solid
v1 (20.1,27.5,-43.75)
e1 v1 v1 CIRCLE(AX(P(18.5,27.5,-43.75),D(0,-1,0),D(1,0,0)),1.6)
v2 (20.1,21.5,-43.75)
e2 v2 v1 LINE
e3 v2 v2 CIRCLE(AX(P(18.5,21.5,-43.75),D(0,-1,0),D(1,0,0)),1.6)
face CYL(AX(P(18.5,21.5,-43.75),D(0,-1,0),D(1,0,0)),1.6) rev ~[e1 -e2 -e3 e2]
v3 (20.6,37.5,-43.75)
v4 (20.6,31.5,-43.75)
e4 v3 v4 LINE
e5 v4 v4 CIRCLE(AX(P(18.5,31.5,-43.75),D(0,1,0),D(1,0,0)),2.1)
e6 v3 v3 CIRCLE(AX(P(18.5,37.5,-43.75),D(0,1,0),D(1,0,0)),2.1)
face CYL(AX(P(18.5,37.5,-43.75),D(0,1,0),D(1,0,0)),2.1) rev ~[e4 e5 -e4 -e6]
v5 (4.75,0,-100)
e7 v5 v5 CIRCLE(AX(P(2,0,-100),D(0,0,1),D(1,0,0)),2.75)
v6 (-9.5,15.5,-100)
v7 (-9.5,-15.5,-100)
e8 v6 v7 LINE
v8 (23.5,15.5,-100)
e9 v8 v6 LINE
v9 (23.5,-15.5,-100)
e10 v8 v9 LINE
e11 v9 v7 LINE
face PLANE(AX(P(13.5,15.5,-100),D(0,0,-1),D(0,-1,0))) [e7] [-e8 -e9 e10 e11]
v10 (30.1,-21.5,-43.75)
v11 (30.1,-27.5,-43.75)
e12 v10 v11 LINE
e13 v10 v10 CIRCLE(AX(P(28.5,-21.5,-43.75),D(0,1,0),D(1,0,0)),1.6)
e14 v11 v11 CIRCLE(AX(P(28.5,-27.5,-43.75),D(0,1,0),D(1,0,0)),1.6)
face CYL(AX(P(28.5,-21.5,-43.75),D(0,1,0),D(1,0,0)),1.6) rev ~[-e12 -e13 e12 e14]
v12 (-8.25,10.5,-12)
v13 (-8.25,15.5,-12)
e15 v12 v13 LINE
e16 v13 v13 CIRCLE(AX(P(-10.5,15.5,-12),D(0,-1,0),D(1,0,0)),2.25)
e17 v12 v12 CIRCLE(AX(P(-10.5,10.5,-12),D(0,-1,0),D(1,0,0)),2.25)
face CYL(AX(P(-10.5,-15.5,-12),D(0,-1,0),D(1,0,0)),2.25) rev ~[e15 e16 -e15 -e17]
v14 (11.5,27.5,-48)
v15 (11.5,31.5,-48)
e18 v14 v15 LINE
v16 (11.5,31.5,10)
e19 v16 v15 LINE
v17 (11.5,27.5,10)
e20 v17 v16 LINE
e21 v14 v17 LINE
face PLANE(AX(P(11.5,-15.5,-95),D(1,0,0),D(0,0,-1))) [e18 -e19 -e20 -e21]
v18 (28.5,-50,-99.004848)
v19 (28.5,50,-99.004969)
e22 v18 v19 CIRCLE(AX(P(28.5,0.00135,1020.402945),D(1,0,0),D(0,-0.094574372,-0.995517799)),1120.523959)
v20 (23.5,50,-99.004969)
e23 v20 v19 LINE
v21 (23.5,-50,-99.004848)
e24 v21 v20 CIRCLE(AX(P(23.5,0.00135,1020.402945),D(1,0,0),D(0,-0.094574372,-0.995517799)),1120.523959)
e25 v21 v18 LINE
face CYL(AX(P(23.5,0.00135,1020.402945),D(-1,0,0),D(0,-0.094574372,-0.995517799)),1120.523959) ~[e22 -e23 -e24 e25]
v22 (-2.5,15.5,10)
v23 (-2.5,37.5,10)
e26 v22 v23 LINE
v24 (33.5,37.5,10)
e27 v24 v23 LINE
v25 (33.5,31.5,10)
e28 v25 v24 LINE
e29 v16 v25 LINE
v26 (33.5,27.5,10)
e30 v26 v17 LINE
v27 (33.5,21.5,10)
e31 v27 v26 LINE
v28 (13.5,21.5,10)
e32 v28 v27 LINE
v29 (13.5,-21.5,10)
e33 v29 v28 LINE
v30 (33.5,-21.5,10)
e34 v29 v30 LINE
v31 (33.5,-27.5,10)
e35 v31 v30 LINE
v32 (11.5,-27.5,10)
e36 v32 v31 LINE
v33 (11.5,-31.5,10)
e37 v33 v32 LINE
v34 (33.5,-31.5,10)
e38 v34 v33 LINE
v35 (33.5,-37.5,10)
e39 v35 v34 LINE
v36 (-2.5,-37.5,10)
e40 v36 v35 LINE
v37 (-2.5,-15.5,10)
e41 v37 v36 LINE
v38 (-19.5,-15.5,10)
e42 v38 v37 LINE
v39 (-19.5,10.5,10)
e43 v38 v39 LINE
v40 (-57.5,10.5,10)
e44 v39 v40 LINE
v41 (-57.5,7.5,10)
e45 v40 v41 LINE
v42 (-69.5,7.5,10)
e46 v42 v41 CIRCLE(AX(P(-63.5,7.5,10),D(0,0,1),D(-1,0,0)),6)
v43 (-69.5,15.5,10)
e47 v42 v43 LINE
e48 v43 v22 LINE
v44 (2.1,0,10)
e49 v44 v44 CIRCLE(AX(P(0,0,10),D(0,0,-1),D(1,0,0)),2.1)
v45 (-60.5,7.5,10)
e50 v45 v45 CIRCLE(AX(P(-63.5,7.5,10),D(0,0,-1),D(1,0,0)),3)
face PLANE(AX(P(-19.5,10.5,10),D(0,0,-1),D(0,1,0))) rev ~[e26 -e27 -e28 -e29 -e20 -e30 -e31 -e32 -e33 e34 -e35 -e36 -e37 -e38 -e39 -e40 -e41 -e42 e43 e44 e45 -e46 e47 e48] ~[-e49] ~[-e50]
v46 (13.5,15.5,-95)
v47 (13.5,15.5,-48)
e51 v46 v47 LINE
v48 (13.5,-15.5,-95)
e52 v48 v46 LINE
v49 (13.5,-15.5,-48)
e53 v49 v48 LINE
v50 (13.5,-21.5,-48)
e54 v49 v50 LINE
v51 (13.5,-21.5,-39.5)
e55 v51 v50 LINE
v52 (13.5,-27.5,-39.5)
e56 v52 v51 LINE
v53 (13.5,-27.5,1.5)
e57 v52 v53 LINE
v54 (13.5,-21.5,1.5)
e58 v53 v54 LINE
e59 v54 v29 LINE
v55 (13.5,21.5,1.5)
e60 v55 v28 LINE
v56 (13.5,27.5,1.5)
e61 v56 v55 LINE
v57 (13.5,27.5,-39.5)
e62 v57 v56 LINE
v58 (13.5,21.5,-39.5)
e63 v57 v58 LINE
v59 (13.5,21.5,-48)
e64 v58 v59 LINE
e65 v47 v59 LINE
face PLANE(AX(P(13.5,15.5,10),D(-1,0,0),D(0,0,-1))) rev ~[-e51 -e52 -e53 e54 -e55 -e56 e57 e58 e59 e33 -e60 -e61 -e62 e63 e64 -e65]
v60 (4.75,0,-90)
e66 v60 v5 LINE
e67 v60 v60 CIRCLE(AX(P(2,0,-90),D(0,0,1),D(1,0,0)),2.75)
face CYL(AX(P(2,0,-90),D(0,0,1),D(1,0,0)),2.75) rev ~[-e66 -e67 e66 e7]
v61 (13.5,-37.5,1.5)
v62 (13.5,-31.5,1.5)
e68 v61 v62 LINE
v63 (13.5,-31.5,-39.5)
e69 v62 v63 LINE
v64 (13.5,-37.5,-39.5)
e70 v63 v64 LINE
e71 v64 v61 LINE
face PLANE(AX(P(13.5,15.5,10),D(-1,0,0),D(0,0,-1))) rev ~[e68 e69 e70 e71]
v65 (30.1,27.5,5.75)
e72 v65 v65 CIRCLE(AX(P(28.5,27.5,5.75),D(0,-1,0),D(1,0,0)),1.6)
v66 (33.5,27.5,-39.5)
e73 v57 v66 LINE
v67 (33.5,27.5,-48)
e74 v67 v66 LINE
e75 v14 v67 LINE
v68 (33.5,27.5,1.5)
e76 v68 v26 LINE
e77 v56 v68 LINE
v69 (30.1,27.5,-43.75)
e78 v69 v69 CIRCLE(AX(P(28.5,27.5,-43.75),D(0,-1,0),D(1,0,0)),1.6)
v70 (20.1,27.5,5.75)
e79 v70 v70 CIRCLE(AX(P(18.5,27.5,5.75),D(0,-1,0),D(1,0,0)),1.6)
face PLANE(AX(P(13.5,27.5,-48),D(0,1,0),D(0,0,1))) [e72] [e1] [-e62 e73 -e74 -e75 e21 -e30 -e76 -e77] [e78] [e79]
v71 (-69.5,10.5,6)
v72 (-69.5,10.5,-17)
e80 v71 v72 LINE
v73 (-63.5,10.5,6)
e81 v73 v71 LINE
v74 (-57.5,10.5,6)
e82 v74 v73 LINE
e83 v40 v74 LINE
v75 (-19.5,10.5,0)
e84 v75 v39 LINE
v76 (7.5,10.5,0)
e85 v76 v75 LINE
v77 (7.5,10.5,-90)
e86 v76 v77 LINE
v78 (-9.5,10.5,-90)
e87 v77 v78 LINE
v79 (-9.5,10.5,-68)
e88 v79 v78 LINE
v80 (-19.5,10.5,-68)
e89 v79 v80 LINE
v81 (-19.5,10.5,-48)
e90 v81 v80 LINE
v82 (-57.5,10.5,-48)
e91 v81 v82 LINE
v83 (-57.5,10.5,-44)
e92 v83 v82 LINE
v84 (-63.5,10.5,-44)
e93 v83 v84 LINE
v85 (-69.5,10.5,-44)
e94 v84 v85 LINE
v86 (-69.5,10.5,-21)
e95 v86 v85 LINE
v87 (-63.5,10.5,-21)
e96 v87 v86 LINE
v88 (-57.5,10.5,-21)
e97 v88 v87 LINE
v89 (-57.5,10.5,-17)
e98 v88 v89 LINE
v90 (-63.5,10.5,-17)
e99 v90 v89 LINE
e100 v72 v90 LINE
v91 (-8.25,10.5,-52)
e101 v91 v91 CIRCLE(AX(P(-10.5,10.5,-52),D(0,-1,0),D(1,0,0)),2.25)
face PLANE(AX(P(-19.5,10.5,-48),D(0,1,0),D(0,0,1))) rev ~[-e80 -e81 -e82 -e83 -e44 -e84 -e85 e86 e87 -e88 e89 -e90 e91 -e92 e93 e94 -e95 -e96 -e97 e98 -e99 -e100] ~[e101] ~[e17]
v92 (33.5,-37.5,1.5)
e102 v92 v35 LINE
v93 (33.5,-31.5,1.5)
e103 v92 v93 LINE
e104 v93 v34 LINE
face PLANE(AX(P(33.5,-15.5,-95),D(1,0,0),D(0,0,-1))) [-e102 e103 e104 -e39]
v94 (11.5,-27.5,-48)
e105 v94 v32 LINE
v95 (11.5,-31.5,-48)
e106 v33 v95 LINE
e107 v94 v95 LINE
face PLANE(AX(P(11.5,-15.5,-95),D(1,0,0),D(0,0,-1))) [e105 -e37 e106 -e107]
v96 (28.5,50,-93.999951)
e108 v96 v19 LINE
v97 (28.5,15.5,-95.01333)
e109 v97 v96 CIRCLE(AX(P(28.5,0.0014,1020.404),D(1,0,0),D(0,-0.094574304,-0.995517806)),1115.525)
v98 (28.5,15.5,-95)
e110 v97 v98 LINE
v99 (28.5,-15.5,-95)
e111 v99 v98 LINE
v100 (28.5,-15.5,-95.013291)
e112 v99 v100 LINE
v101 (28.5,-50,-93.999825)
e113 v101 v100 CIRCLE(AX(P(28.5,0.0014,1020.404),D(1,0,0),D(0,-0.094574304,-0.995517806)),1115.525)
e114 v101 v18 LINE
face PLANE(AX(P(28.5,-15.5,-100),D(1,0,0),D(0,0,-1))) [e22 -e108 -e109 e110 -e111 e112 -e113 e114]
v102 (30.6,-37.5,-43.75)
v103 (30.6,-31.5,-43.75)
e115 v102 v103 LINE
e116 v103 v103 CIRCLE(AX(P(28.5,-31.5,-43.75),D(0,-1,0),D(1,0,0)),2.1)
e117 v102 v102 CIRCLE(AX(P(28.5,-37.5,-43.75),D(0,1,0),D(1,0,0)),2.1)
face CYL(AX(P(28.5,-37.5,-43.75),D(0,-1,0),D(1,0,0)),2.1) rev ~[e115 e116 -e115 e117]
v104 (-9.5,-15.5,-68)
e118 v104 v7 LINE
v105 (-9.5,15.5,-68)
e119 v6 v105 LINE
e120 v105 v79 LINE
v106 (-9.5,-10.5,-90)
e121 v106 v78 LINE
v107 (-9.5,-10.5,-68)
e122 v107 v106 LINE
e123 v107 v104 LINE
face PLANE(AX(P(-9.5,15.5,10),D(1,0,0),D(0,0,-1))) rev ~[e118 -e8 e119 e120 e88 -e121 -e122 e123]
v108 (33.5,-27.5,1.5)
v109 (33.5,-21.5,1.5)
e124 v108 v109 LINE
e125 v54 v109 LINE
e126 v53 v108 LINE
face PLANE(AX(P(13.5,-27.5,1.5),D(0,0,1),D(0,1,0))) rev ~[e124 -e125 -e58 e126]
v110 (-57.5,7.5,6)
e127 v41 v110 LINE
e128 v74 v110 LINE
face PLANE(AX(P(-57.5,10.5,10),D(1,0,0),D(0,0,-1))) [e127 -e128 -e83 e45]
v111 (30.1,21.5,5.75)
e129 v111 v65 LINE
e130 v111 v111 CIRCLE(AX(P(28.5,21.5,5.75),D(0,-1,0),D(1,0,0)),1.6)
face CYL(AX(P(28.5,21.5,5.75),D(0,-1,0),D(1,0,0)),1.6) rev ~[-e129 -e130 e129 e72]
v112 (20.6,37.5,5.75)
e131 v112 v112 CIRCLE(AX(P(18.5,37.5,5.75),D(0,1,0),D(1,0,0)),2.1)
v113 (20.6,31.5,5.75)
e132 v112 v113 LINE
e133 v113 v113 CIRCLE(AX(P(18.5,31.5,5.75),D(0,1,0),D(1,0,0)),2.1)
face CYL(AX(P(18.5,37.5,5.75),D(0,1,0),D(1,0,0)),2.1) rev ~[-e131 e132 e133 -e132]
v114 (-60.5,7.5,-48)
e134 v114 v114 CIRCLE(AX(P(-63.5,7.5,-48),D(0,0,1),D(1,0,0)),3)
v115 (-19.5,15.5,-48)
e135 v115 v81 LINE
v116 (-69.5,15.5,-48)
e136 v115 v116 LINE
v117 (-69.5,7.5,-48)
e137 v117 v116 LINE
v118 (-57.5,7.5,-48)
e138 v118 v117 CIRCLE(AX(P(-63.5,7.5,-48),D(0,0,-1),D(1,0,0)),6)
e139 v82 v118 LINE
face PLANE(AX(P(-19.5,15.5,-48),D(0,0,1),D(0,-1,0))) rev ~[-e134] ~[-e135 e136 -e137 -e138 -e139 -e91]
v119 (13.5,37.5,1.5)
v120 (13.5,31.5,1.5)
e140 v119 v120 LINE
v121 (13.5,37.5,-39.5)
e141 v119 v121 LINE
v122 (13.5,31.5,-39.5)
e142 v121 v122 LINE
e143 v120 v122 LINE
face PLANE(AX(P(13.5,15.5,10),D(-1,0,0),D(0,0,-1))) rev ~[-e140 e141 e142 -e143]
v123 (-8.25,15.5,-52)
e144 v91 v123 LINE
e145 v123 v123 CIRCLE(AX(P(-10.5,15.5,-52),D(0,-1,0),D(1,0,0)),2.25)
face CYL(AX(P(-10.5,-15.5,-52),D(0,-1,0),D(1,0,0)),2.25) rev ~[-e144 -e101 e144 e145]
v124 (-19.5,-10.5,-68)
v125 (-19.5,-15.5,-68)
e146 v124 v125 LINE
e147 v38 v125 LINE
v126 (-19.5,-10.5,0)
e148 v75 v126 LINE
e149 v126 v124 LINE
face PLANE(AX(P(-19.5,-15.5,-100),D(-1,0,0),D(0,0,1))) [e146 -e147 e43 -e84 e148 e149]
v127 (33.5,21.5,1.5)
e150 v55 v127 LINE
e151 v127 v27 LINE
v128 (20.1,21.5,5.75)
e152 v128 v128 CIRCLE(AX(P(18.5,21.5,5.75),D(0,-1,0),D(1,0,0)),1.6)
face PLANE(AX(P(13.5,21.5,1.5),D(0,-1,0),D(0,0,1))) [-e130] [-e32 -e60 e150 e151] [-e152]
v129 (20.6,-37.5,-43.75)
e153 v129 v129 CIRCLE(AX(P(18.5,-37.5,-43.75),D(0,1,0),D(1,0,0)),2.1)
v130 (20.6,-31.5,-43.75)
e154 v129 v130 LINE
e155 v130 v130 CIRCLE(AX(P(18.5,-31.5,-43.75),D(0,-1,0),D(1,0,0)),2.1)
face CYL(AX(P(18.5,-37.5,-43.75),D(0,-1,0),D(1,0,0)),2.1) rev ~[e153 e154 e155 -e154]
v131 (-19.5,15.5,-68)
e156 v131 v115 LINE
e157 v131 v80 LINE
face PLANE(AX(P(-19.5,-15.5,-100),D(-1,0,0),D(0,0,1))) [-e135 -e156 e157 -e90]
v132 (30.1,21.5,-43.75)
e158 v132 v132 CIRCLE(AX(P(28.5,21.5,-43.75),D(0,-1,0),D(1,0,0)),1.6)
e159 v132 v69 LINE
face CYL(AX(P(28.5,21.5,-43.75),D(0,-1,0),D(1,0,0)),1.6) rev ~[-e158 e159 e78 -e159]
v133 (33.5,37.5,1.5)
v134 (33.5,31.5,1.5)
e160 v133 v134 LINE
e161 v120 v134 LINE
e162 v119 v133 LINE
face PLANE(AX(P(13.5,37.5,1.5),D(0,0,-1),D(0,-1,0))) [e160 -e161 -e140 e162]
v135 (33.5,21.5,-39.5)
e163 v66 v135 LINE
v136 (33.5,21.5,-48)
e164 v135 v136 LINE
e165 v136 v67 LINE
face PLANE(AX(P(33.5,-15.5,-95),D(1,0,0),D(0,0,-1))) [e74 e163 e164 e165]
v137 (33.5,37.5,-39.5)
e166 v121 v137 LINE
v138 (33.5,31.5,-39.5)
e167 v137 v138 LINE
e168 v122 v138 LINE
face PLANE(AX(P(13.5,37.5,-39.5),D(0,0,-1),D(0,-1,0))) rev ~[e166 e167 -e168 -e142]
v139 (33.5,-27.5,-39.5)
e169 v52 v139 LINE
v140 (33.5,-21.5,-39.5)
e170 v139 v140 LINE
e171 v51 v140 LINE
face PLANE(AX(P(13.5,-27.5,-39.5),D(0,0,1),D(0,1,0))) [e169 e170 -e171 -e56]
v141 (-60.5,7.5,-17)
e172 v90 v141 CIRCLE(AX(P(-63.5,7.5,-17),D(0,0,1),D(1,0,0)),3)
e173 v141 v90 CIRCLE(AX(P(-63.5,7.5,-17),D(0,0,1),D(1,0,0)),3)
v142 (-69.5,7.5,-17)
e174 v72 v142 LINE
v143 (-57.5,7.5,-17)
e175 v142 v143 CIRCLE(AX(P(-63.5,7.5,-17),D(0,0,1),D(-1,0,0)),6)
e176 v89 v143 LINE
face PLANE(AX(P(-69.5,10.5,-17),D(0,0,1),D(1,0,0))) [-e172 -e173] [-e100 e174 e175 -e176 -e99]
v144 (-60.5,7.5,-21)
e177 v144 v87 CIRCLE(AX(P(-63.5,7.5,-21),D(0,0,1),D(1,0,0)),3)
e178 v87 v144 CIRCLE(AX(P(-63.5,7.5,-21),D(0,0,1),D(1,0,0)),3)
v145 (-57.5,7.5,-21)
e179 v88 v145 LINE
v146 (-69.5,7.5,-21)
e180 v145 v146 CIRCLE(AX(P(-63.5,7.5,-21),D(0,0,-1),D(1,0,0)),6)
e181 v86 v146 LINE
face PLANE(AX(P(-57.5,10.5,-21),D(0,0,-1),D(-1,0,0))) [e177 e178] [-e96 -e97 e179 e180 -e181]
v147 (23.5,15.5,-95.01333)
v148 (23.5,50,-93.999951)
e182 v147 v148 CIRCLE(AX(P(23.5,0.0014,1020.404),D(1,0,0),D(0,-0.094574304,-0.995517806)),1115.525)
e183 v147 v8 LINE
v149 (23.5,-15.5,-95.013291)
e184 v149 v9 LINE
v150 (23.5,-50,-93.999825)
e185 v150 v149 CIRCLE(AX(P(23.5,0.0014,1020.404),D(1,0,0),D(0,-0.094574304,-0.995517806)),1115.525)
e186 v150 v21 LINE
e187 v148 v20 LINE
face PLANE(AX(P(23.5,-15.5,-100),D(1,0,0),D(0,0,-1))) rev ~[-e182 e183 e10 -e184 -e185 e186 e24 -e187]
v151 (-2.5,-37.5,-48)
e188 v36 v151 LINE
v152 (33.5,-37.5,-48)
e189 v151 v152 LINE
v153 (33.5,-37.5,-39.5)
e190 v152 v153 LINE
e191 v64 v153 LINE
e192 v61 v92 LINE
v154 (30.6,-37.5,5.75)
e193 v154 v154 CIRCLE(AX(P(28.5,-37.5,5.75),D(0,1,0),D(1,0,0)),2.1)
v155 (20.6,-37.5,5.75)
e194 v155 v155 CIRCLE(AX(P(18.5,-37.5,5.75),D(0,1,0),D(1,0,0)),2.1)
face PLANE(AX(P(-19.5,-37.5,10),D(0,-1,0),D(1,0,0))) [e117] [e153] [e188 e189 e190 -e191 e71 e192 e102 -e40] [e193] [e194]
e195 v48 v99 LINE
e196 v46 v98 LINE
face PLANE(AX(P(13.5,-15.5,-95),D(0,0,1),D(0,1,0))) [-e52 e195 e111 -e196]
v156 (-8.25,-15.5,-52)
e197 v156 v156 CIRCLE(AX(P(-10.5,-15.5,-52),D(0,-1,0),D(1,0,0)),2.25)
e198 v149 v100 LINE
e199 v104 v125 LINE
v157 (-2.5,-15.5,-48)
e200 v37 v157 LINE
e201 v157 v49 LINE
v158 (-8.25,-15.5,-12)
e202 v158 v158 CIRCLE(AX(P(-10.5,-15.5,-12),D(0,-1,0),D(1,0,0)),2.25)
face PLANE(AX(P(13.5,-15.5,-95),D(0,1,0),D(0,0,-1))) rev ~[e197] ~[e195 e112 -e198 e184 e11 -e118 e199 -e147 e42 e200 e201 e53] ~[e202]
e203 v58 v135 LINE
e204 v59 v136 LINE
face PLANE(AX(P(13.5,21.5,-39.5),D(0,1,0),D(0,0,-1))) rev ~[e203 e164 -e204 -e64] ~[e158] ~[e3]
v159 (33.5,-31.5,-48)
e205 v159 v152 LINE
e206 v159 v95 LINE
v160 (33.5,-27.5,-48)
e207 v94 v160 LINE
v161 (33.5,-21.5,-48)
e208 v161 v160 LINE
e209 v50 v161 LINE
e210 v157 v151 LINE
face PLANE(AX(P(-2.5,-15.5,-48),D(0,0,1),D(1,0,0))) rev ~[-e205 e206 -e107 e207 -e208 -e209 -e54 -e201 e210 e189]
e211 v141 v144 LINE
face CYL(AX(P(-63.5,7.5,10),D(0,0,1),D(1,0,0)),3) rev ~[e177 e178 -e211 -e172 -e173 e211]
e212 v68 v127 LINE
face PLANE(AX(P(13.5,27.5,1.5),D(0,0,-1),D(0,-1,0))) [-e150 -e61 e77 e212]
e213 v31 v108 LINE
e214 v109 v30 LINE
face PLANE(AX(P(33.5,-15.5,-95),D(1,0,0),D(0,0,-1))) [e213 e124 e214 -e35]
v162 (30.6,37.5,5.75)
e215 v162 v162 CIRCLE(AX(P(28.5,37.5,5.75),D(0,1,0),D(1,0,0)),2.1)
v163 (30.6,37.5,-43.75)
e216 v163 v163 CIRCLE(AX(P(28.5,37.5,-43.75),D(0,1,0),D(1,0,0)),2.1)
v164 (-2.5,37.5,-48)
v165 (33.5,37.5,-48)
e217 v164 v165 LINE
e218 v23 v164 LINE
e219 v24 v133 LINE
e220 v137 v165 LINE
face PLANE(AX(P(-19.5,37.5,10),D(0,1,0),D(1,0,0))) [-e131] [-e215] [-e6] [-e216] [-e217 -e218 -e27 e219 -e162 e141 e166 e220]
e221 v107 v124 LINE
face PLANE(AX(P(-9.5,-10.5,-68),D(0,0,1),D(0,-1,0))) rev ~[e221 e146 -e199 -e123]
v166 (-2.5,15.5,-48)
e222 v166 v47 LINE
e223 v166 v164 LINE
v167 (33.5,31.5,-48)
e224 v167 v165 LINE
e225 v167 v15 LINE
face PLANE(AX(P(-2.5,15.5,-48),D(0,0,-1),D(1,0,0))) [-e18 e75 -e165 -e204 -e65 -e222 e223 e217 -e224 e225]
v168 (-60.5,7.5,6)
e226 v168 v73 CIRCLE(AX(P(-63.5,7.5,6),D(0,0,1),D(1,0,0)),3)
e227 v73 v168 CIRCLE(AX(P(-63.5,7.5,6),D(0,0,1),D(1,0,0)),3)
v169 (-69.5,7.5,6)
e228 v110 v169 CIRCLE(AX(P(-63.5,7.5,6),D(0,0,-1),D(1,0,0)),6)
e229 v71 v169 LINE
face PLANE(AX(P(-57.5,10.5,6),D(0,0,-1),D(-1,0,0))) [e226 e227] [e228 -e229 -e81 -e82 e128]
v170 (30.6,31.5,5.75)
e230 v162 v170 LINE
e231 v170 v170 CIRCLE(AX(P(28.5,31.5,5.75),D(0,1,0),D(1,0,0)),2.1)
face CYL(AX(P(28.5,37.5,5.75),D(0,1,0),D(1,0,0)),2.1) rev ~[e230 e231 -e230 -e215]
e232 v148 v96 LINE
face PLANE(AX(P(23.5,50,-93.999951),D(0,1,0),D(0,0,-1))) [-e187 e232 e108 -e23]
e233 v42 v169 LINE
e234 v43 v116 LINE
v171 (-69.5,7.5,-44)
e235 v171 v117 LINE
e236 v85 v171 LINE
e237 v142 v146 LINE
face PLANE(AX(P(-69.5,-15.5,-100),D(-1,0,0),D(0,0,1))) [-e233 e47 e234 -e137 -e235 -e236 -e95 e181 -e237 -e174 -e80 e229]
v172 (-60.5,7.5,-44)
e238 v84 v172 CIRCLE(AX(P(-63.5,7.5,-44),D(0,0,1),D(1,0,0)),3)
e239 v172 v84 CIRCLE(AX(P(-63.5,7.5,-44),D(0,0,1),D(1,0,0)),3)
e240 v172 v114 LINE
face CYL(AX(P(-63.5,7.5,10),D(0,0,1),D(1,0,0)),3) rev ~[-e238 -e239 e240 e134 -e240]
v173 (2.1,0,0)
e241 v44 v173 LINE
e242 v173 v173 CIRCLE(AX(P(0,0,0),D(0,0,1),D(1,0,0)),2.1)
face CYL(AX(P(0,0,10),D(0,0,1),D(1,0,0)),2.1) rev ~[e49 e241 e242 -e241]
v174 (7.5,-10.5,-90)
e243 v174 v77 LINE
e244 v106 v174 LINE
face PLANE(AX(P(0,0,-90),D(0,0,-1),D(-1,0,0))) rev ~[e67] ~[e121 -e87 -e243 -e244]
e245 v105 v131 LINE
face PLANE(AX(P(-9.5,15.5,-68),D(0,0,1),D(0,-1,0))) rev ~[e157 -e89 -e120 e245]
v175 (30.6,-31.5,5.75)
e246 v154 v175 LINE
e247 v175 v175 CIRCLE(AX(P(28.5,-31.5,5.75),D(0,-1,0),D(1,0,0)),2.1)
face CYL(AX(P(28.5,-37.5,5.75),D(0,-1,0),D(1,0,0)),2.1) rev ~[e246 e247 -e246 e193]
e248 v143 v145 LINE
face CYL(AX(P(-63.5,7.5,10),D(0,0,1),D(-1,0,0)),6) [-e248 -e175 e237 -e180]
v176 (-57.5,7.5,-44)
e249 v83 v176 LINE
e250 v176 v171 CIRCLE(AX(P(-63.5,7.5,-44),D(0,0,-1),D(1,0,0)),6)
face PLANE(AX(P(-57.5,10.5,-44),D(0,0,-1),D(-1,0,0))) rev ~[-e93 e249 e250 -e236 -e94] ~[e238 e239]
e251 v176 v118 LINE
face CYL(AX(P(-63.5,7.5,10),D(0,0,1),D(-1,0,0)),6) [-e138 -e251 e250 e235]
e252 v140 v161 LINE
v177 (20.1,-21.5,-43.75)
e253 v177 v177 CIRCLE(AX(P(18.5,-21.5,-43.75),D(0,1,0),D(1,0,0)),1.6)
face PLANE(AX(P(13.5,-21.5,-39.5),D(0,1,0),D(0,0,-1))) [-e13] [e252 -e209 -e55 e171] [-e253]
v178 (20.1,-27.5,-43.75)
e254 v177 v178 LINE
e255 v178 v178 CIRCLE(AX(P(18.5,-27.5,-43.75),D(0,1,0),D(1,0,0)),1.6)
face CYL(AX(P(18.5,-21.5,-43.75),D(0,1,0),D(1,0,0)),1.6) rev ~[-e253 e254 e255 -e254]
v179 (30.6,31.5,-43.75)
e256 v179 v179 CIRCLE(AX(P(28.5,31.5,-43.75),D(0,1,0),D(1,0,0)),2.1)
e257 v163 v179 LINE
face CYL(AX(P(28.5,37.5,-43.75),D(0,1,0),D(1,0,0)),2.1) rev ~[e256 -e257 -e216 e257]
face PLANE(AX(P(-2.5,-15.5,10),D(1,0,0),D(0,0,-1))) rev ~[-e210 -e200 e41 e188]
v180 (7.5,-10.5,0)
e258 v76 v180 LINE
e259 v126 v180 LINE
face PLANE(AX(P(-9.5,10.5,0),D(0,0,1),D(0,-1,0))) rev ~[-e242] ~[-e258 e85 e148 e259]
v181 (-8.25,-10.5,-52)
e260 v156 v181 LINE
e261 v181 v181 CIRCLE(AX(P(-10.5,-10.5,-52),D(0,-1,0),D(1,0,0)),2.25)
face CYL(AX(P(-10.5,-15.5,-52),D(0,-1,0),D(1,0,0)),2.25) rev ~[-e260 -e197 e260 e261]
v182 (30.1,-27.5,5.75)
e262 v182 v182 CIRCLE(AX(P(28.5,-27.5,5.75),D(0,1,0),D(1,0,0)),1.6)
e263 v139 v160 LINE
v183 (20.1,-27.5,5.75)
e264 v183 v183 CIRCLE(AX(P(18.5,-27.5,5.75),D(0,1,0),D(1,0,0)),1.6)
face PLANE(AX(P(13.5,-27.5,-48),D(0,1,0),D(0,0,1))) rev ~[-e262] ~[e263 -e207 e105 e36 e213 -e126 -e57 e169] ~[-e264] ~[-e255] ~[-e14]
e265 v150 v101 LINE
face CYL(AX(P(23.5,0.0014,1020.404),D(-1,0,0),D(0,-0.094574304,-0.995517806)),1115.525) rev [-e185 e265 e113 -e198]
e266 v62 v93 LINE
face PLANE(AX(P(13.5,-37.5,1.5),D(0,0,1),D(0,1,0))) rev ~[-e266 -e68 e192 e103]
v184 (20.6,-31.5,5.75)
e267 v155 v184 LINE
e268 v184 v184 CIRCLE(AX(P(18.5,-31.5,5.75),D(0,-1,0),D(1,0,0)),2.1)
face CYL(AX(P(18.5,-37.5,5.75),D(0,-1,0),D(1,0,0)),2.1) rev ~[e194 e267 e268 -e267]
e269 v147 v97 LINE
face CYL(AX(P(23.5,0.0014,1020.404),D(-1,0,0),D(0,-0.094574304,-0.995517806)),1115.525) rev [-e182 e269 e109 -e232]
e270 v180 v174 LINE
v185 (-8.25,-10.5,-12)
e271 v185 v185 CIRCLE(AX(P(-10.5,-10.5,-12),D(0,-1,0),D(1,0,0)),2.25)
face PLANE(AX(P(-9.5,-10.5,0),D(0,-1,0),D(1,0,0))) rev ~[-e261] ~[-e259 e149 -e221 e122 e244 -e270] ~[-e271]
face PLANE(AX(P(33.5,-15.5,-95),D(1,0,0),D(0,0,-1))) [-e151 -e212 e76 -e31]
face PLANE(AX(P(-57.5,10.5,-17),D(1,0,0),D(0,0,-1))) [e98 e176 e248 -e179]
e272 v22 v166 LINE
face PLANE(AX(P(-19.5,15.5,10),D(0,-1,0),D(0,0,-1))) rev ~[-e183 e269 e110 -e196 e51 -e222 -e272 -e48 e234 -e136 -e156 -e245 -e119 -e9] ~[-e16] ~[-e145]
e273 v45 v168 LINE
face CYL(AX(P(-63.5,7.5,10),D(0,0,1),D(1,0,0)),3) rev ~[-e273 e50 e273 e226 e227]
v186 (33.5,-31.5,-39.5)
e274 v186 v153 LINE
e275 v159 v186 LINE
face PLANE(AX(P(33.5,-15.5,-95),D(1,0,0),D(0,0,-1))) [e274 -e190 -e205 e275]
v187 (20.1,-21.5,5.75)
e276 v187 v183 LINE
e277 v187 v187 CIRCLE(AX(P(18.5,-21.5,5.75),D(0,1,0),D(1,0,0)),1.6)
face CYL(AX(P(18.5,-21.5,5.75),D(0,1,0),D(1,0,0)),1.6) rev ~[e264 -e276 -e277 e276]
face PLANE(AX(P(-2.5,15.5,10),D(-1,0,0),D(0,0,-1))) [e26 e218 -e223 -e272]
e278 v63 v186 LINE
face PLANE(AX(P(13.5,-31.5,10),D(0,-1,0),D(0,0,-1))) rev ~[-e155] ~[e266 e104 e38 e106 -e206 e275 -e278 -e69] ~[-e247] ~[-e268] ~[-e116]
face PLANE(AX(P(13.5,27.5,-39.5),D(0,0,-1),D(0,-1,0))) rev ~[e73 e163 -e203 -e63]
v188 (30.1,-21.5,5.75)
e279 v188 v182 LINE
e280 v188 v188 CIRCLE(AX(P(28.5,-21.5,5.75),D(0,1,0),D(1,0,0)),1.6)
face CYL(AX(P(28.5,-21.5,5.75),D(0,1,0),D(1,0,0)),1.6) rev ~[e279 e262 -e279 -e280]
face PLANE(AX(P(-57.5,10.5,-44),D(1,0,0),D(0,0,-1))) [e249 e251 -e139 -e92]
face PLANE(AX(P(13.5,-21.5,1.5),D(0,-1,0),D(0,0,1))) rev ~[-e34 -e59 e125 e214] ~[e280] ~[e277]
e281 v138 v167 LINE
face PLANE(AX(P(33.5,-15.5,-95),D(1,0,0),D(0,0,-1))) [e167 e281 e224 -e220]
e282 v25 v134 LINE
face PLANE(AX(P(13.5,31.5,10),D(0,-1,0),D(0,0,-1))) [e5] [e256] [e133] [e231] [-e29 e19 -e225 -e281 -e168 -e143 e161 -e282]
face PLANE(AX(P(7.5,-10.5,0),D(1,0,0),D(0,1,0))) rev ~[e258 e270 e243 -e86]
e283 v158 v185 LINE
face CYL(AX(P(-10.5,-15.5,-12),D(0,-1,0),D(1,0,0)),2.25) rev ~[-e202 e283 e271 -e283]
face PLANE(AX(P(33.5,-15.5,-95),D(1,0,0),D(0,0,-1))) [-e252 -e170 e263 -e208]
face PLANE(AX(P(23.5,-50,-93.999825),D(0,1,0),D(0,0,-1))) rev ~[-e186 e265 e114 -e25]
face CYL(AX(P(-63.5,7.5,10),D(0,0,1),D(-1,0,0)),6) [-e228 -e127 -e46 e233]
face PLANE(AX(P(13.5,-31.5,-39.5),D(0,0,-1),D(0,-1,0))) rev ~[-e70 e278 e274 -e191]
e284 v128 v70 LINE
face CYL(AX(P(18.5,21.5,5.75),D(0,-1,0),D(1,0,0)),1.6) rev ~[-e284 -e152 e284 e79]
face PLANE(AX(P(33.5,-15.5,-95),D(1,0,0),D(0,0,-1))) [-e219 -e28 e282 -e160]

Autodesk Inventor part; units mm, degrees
sketch "Skizze1" plane through (0, 0, 0) normal (0, 0, 1) x (1, 0, 0)
  line L0 (-9.5, -10.5) -> (7.5, -10.5)
  line L1 (7.5, -10.5) -> (7.5, 10.5)
  line L2 (7.5, 10.5) -> (-9.5, 10.5)
  line L3 (-14.1, 0) -> (18.1, 0) projected
  line L4 (0, -21.7) -> (0, 21.7) projected
  line L5 (-9.5, -10.5) -> (-9.5, -15.5)
  line L6 (-9.5, -15.5) -> (13.5, -15.5)
  line L7 (-9.5, 10.5) -> (-9.5, 15.5)
  line L8 (-9.5, 15.5) -> (13.5, 15.5)
  line L9 (13.5, 15.5) -> (13.5, -15.5)
  point P0 (0, 0)
  dimension "d2" = 21
  dimension "d4" = 7.5
  dimension "d5" = 5
  dimension "d8" = 5
  dimension "d9" = 23
  dimension "d147" = 6
  dimension "d148" = 23
extrude "Tower" add sketch "Skizze1" against normal blind 100 contours L0 L4 L6 L5 | L0 L1 L3 L9 L6 L4 | L1 L2 L4 L8 L9 L3 | L2 L7 L8 L4
ref_plane "Arbeitsebene1" through (0, 0, -100) normal (0, 0, -1) x (-1, 0, 0)
sketch "Skizze6" plane through (-9.5, 15.5, 0) normal (0, 1, 0) x (1, 0, 0)
  line L0 (23, 0) -> (23, 100) projected
  line L1 (23, 66.4131) -> (23, 0)
  line L2 (246, -7) -> (246, -5)
  line L3 (0, 0) -> (0, 100) projected
  line L4 (0, 0) -> (23, 0) projected
  line L5 (0, 0) -> (0, 100) projected
  line L6 (23, 100) -> (0, 100) projected
  line L7 (23, 0) -> (23, 100) projected
  line L8 (0, 0) -> (23, 0)
  line L9 (23, 0) -> (23, -10)
  line L10 (23, -10) -> (0, -10)
  line L11 (0, -10) -> (0, 0)
  dimension "d199" = 10
extrude "Gripperbogen" add sketch "Skizze6" against normal blind 31 contours L9 L10 L11 L4
sketch "Skizze12" plane through (0, 0, -100) normal (0, 0, -1) x (-1, 0, 0)
  line L0 (-214.5, 9.5) -> (-236.5, 9.5) projected
  line L1 (-236.5, 15.5) -> (-236.5, 9.5) projected
  line L2 (9.5, 15.5) -> (-236.5, 15.5) projected
  line L3 (9.5, 15.5) -> (9.5, -15.5) projected
  line L4 (-136.5, -15.5) -> (9.5, -15.5) projected
  line L5 (-136.5, -15.5) -> (-206.5, 0) projected
  line L6 (-206.5, 0) -> (-236.5, 0) projected
  line L7 (-236.5, 6) -> (-236.5, 0) projected
  line L8 (-236.5, 6) -> (-214.5, 6) projected
  line L9 (-214.5, 6) -> (-214.5, 9.5) projected
  line L10 (-7.5, 10.5) -> (9.5, 10.5) projected
  line L11 (9.5, 10.5) -> (9.5, 15.5) projected
  line L12 (9.5, 15.5) -> (-13.5, 15.5) projected
  line L13 (-13.5, 15.5) -> (-13.5, -15.5) projected
  line L14 (-13.5, -15.5) -> (9.5, -15.5) projected
  line L15 (9.5, -15.5) -> (9.5, -10.5) projected
  line L16 (9.5, -10.5) -> (-7.5, -10.5) projected
  line L17 (-7.5, -10.5) -> (-7.5, 10.5) projected
  line L18 (-13.5, 15.5) -> (-13.5, -15.5) projected
  line L19 (-13.5, -15.5) -> (9.5, -15.5)
  line L20 (9.5, -15.5) -> (9.5, 15.5)
  line L21 (9.5, 15.5) -> (-13.5, 15.5)
  line L22 (-13.5, 15.5) -> (-13.5, -15.5)
  point P0 (9.5, 25.25)
  point P1 (-13.5, -5.25)
  point P2 (-13.5, 15.5)
extrude "Extrusion10" add sketch "Skizze12" against normal blind 10 contours L2 L3 L10 L17 L16 L4 L13 | L3 L16 L17 L10
ref_plane "Arbeitsebene3" through (0, 0, -113.5) normal (0, 0, -1) x (-1, 0, 0)
ref_plane "Arbeitsebene4" through (-9.5, -5.25, -113.5) normal (-1, 0, 0) x (0, 0, 1)
sketch "Skizze18" plane through (0, 0, -90) normal (0, 0, 1) x (1, 0, 0)
  line L0 (7.5, 10.5) -> (7.5, -10.5) projected
  line L1 (-9.5, 10.5) -> (7.5, 10.5) projected
  circle A0 centre (2, 0) radius 2.75
  line L2 (7.5, -10.5) -> (-9.5, -10.5) projected
  line L3 (-9.5, 10.5) -> (-9.5, -10.5) projected
  point P0 (0, 0)
  dimension "d132" = 5.5
  dimension "d154" = 0
  dimension "d155" = 11.5
  dimension "d161" = 21
  dimension "d162" = 17
extrude "Extrusion15" cut sketch "Skizze18" against normal through all contours A0
sketch "Skizze19" plane through (-9.5, -15.5, -100) normal (-1, 0, 0) x (0, 0, 1)
  line L0 (0, 0) -> (0, 31) projected
  line L1 (100, 26) -> (10, 26) projected
  line L2 (100, 5) -> (10, 5) projected
  line L3 (32, 31) -> (32, 0)
  line L4 (10, 26) -> (10, 5) projected
  line L5 (10, 26) -> (0, 26)
  line L6 (10, 5) -> (0, 5)
  line L7 (100, 26) -> (110, 26)
  line L8 (10, 26) -> (10, 5) projected
  line L9 (110, 0) -> (0, 0) projected
  line L10 (110, 31) -> (110, 0) projected
  line L11 (0, 31) -> (110, 31) projected
  line L12 (100, 26) -> (100, 5) projected
  point P0 (100, 15.5)
  point P1 (23.5, 25.5)
  point P2 (23.5, 5)
  point P3 (32, 26)
  point P4 (32, 5)
  point P5 (20, 10.25)
  point P6 (32, 0)
  dimension "d201" = 78
extrude "Extrusion16" add sketch "Skizze19" along normal blind 10 contours L3 L2 L12 L7 L10 L9 | L3 L11 L10 L7 L1
sketch "Skizze15" plane through (-9.5, -15.5, -100) normal (0, -1, 0) x (1, 0, 0)
  line L0 (23, 0) -> (0, 0) projected
  circle A0 centre (-1, 48) radius 2.25
  circle A1 centre (-1, 88) radius 2.25
  line L1 (23, 0) -> (23, 110) projected
  line L2 (23, 110) -> (-10, 110) projected
  line L3 (0, 32) -> (0, 0) projected
  line L4 (-10, 32) -> (-10, 110) projected
  line L5 (0, 32) -> (-10, 32) projected
  point P0 (9.5, 100)
  dimension "d138" = 4.5
  dimension "d142" = 4.5
  dimension "d143" = 40
  dimension "d200" = 24
  dimension "d267" = 22
extrude "Extrusion13" cut sketch "Skizze15" against normal blind 100 contours A0 | A1
sketch "Skizze35" plane through (13.5, -15.5, -100) normal (1, 0, 0) x (0, 0, -1)
  line L0 (-100, 31) -> (0, 31) projected
  line L1 (-100, 0) -> (0, 0) projected
  line L2 (0, 31) -> (0, 0) projected
  line L3 (0, 31) -> (0, 0) projected
  line L4 (0, 0) -> (-5, 0)
  line L5 (-5, 0) -> (-5, 31)
  line L6 (-5, 31) -> (0, 31)
  line L7 (0, 31) -> (0, 0)
  line L8 (-110, 31) -> (0, 31) projected
  line L9 (-110, 31) -> (-110, 0) projected
  line L10 (0, 0) -> (-110, 0) projected
  point P0 (-29.8382, 31)
  point P1 (-29.8382, 0)
  point P2 (-100, 15.5)
  point P3 (-5, 31)
  point P4 (-5, 0)
  point P5 (-80, 31)
  point P6 (-80, 0)
  dimension "d176" = 5
extrude "Extrusion22" add sketch "Skizze35" along normal blind 10 contours L0 L2 L1 L5
sketch "Skizze36" plane through (23.5, -15.5, -100) normal (1, 0, 0) x (0, 0, -1)
  line L0 (-5, 0) -> (0, 0) projected
  line L1 (0, 0) -> (0, 31) projected
  line L2 (0, 31) -> (-5, 31) projected
  line L3 (-5, 31) -> (-5, 0) projected
  arc A0 (-9.879, -89.9986) -> (-9.879, 121.0014) centre (-1120.404, 15.5014) ccw
  line L4 (-5, 15.5) -> (0, 15.5)
  arc A1 (-4.9014, -90.4715) -> (-4.9014, 121.4742) centre (-1120.404, 15.5014) ccw
  line L5 (-5, 15.5) -> (0, 15.5)
  line L6 (-14.7679, -34.5) -> (17.3967, -34.5)
  line L7 (-14.7679, 65.5) -> (14.0644, 65.5)
  point P0 (-100, 15.5)
  point P1 (-0.9951, 65.5)
  point P2 (-6.0001, 65.5)
  point P3 (-4.9867, 31)
  point P4 (-4.9867, 0)
  point P5 (-6.0002, -34.5)
  point P6 (-0.9952, -34.5)
  dimension "d181" = 5
  dimension "d182" = 100
extrude "Extrusion23" add sketch "Skizze36" along normal blind 5
sketch "Skizze40" plane through (-19.5, -15.5, 10) normal (0, -1, 0) x (1, 0, 0)
  line L0 (33, -105) -> (33, 0) projected
  line L1 (33, 0) -> (0, 0) projected
  line L2 (33, 0) -> (17, 0)
  line L3 (17, 0) -> (17, -58)
  line L4 (17, -58) -> (33, -58)
  line L5 (33, -58) -> (33, 0)
  point P0 (19.5, -10)
  point P1 (17, 0)
  dimension "d202" = 16
  dimension "d203" = 58
extrude "Extrusion26" add sketch "Skizze40" along normal blind 22
sketch "Skizze41" plane through (-19.5, 15.5, 10) normal (0, 1, 0) x (1, 0, 0)
  line L0 (0, 0) -> (33, 0) projected
  line L1 (33, 0) -> (33, 105) projected
  line L2 (33, 58) -> (33, 0) projected
  line L3 (33, 0) -> (17, 0) projected
  line L4 (17, 0) -> (17, 58) projected
  line L5 (17, 58) -> (33, 58) projected
  point P0 (19.5, 10)
extrude "Extrusion27" add sketch "Skizze41" along normal blind 22
sketch "Skizze42" plane through (13.5, -15.5, -95) normal (1, 0, 0) x (0, 0, -1)
  line L0 (-47, 31) -> (-47, 53) projected
  line L1 (-105, -22) -> (-105, 53) projected
  line L2 (-47, 0) -> (-47, -22) projected
  line L3 (-47, -12) -> (-105, -12)
  line L4 (-105, -12) -> (-105, -16)
  line L5 (-105, -16) -> (-47, -16)
  line L6 (-47, -16) -> (-47, -12)
  line L7 (-105, 53) -> (-47, 53) projected
  line L8 (-47, -22) -> (-105, -22) projected
  line L9 (-105, 47) -> (-47, 47)
  line L10 (-47, 47) -> (-47, 43)
  line L11 (-47, 43) -> (-105, 43)
  line L12 (-105, 43) -> (-105, 47)
  point P0 (-95, 15.5)
  point P1 (-105, 43)
  dimension "d209" = 4
  dimension "d241" = 6
  dimension "d242" = 4
  dimension "d243" = 6
extrude "Extrusion28" cut sketch "Skizze42" against normal blind 2 contours L11 L1 L9 L0 | L3 L2 L5 L1
sketch "Skizze44" plane through (13.5, -15.5, -95) normal (1, 0, 0) x (0, 0, -1)
  line L0 (-105, -12) -> (-105, 53) projected
  line L1 (-105, -12) -> (-47, -12) projected
  line L2 (-47, 0) -> (-47, -12) projected
  line L3 (-47, 31) -> (-47, 53) projected
  line L4 (-47, -16) -> (-105, -16) projected
  line L5 (-105, -22) -> (-105, -16) projected
  line L6 (-47, -22) -> (-105, -22) projected
  line L7 (-47, -16) -> (-47, -22) projected
  line L8 (-47, 47) -> (-47, 53) projected
  line L9 (-105, 53) -> (-47, 53) projected
  line L10 (-105, 47) -> (-105, 53) projected
  line L11 (-105, -22) -> (-96.5, -22)
  line L12 (-96.5, -22) -> (-96.5, -16)
  line L13 (-96.5, -16) -> (-105, -16)
  line L14 (-105, -16) -> (-105, -22)
  line L15 (-55.5, -22) -> (-47, -22)
  line L16 (-47, -22) -> (-47, -16)
  line L17 (-47, -16) -> (-55.5, -16)
  line L18 (-55.5, -16) -> (-55.5, -22)
  line L19 (-47, -12) -> (-55.5, -12)
  line L20 (-55.5, -12) -> (-55.5, -6)
  line L21 (-55.5, -6) -> (-47, -6)
  line L22 (-47, -6) -> (-47, -12)
  line L23 (-105, -12) -> (-96.5, -12)
  line L24 (-96.5, -12) -> (-96.5, -6)
  line L25 (-96.5, -6) -> (-105, -6)
  line L26 (-105, -6) -> (-105, -12)
  line L27 (-105, -12) -> (-47, -12) projected
  line L28 (-47, 0) -> (-47, -12) projected
  line L29 (0, 0) -> (-47, 0) projected
  line L30 (0, 0) -> (0, 31) projected
  line L31 (-47, 31) -> (0, 31) projected
  line L32 (-47, -16) -> (-105, -16) projected
  line L33 (-105, -22) -> (-105, -16) projected
  line L34 (-47, -22) -> (-105, -22) projected
  line L35 (-47, -16) -> (-47, -22) projected
  line L36 (-47, 31) -> (-47, 43) projected
  line L37 (-47, 43) -> (-105, 43) projected
  line L38 (-105, -12) -> (-105, 43) projected
  line L39 (-105, 47) -> (-47, 47) projected
  line L40 (-96.5, 53) -> (-96.5, 47)
  line L41 (-105, 43) -> (-96.5, 43)
  line L42 (-96.5, 43) -> (-96.5, 37)
  line L43 (-96.5, 37) -> (-105, 37)
  line L44 (-105, 37) -> (-105, 43)
  line L45 (-55.5, 53) -> (-55.5, 47)
  line L46 (-47, 43) -> (-55.5, 43)
  line L47 (-55.5, 43) -> (-55.5, 37)
  line L48 (-55.5, 37) -> (-47, 37)
  line L49 (-47, 37) -> (-47, 43)
  point P0 (-95, 15.5)
  point P1 (-55.5, -19)
  point P2 (-55.5, -9)
  point P3 (-96.5, -19)
  point P4 (-96.5, -9)
  point P5 (-51.25, -6)
  point P6 (-100.75, -6)
  point P7 (-47, -6)
  point P8 (-55.5, -12)
  point P9 (-105, -6)
  point P10 (-96.5, 40)
  point P11 (-96.5, 50)
  point P12 (-55.5, 40)
  point P13 (-55.5, 50)
  point P14 (-105, 37)
  point P15 (-96.5, 43)
  dimension "d216" = 8.5
  dimension "d217" = 8.5
  dimension "d218" = 41
  dimension "d219" = 6
  dimension "d244" = 6
  dimension "d245" = 6
extrude "Extrusion29" add sketch "Skizze44" along normal blind 20 contours L0 L25 L24 L1 | L0 L37 L42 L43 | L20 L21 L2 L1 | L0 L9 L40 L39 | L37 L3 L48 L47 | L45 L9 L3 L39 | L7 L6 L18 L4 | L12 L6 L5 L4
sketch "Skizze45" plane through (-19.5, -37.5, 10) normal (0, -1, 0) x (1, 0, 0)
  line L0 (53, 0) -> (53, -8.5) projected
  line L1 (17, 0) -> (17, -58) projected
  line L2 (53, -49.5) -> (53, -58) projected
  line L3 (33, -58) -> (33, -49.5) projected
  line L4 (53, -4.25) -> (17, -4.25)
  line L5 (53, -53.75) -> (17, -53.75)
  circle A0 centre (38, -53.75) radius 2.1
  circle A1 centre (48, -53.75) radius 2.1
  circle A2 centre (38, -4.25) radius 2.1
  circle A3 centre (48, -4.25) radius 2.1
  line L6 (33, -49.5) -> (33, -8.5) projected
  point P0 (19.5, -10)
  dimension "d227" = 4.2
  dimension "d228" = 4.2
  dimension "d229" = 4.2
  dimension "d230" = 4.2
  dimension "d231" = 5
  dimension "d237" = 5
extrude "Extrusion30" cut sketch "Skizze45" against normal blind 8
sketch "Skizze46" plane through (-19.5, -15.5, -100) normal (-1, 0, 0) x (0, 0, 1)
  line L0 (32, 26) -> (100, 26) projected
  line L1 (110, 0) -> (110, 31) projected
  line L2 (110, 31) -> (32, 31) projected
  line L3 (52, 31) -> (52, 53) projected
  line L4 (110, -22) -> (52, -22) projected
  line L5 (52, 53) -> (52, -22)
  line L6 (100, 26) -> (110, 26)
  point P0 (100, 15.5)
  point P1 (52, 26)
extrude "Extrusion31" add sketch "Skizze46" along normal blind 50
sketch "Skizze47" plane through (-19.5, -15.5, 10) normal (0, 0, 1) x (1, 0, 0)
  circle A0 centre (21.5, 15.5) radius 2.75 projected
  line L0 (27, 5) -> (10, 5) projected
  line L1 (27, 26) -> (27, 5) projected
  line L2 (10, 26) -> (27, 26) projected
  line L3 (10, 26) -> (10, 5) projected
  circle A1 centre (19.5, 15.5) radius 2.1
  point P0 (19.5, 15.5)
  dimension "d238" = 4.2
extrude "Extrusion32" cut sketch "Skizze47" against normal blind 10 contours A1 A0 | A0 A1 picked at (19.7139, 15.5) picked at (18.3139, 15.5)
sketch "Skizze48" plane through (-19.5, 37.5, 10) normal (0, 1, 0) x (1, 0, 0)
  circle A0 centre (48, 4.25) radius 2.1 projected
  circle A1 centre (38, 4.25) radius 2.1 projected
  circle A2 centre (38, 53.75) radius 2.1 projected
  circle A3 centre (48, 53.75) radius 2.1 projected
  point P0 (19.5, 10)
extrude "Extrusion33" cut sketch "Skizze48" against normal blind 8
sketch "Skizze50" plane through (13.5, -21.5, -39.5) normal (0, 1, 0) x (1, 0, 0)
  line L0 (0, -49.5) -> (0, -41) projected
  line L1 (0, -49.5) -> (20, -49.5) projected
  line L2 (20, -41) -> (20, -49.5) projected
  line L3 (0, -41) -> (20, -41) projected
  circle A0 centre (15, -45.25) radius 2.1 projected
  circle A1 centre (5, -45.25) radius 2.1 projected
  circle A2 centre (5, 4.25) radius 2.1 projected
  circle A3 centre (15, 4.25) radius 2.1 projected
  circle A4 centre (15, -45.25) radius 2.1 projected
  circle A5 centre (15, -45.25) radius 1.6
  circle A6 centre (5, -45.25) radius 1.6
  circle A7 centre (15, 4.25) radius 1.6
  circle A8 centre (5, 4.25) radius 1.6
  point P0 (-13.5, -39.5)
  dimension "d248" = 3.2
  dimension "d249" = 3.2
  dimension "d250" = 3.2
  dimension "d251" = 3.2
extrude "Extrusion34" cut sketch "Skizze50" against normal blind 8 contours A5 | A6 | A7 | A8
sketch "Skizze51" plane through (13.5, 21.5, 1.5) normal (0, -1, 0) x (1, 0, 0)
  line L0 (0, -49.5) -> (0, -41) projected
  line L1 (0, -49.5) -> (20, -49.5) projected
  line L2 (20, -41) -> (20, -49.5) projected
  line L3 (0, -41) -> (20, -41) projected
  circle A0 centre (5, -45.25) radius 1.6 projected
  circle A1 centre (15, -45.25) radius 1.6 projected
  circle A2 centre (5, 4.25) radius 1.6 projected
  circle A3 centre (15, 4.25) radius 1.6 projected
  point P0 (-13.5, -1.5)
extrude "Extrusion35" cut sketch "Skizze51" against normal blind 8 contours A0 | A1 | A2 | A3
sketch "Skizze55" plane through (-9.5, 10.5, -90) normal (0, -1, 0) x (1, 0, 0)
  line L0 (-10, 100) -> (-60, 100) projected
  line L1 (-60, 42) -> (-60, 100) projected
  line L2 (-10, 42) -> (-60, 42) projected
  line L3 (-48, 100) -> (-48, 42)
  line L4 (-60, 100) -> (-48, 100)
  line L5 (-48, 100) -> (-48, 96)
  line L6 (-48, 96) -> (-60, 96)
  line L7 (-60, 96) -> (-60, 100)
  line L8 (-60, 42) -> (-48, 42)
  line L9 (-48, 42) -> (-48, 46)
  line L10 (-48, 46) -> (-60, 46)
  line L11 (-60, 46) -> (-60, 42)
  line L12 (-60, 71) -> (-10, 71)
  line L13 (-60, 73) -> (-48, 73)
  line L14 (-48, 73) -> (-48, 69)
  line L15 (-48, 69) -> (-60, 69)
  line L16 (-60, 69) -> (-60, 73)
  point P0 (9.5, 90)
  point P1 (-60, 69)
  point P2 (-48, 73)
  dimension "d268" = 12
  dimension "d269" = 4
  dimension "d270" = 4
  dimension "d271" = 4
extrude "Extrusion39" add sketch "Skizze55" along normal blind 9 contours L3 L6 L1 L0 | L3 L12 L1 L13 | L3 L15 L1 L12 | L3 L2 L1 L10
sketch "Skizze56" plane through (-19.5, -15.5, 10) normal (0, 0, 1) x (1, 0, 0)
  line L0 (-50, 31) -> (-50, 17) projected
  line L1 (-38, 17) -> (-50, 17) projected
  line L2 (-38, 26) -> (-38, 17) projected
  line L3 (-38, 26) -> (-50, 26)
  line L4 (-44, 26) -> (-44, 17)
  circle A0 centre (-44, 23) radius 3
  arc A1 (-50, 23) -> (-38, 23) centre (-44, 23) ccw
  point P0 (-44, 17)
  dimension "d274" = 6
  dimension "d275" = 3
extrude "Extrusion40" cut sketch "Skizze56" against normal blind 80 contours A1 L1 L0 | A0 L4 | L4 A0 | A1 L2 L1
properties part number "Korpus"
